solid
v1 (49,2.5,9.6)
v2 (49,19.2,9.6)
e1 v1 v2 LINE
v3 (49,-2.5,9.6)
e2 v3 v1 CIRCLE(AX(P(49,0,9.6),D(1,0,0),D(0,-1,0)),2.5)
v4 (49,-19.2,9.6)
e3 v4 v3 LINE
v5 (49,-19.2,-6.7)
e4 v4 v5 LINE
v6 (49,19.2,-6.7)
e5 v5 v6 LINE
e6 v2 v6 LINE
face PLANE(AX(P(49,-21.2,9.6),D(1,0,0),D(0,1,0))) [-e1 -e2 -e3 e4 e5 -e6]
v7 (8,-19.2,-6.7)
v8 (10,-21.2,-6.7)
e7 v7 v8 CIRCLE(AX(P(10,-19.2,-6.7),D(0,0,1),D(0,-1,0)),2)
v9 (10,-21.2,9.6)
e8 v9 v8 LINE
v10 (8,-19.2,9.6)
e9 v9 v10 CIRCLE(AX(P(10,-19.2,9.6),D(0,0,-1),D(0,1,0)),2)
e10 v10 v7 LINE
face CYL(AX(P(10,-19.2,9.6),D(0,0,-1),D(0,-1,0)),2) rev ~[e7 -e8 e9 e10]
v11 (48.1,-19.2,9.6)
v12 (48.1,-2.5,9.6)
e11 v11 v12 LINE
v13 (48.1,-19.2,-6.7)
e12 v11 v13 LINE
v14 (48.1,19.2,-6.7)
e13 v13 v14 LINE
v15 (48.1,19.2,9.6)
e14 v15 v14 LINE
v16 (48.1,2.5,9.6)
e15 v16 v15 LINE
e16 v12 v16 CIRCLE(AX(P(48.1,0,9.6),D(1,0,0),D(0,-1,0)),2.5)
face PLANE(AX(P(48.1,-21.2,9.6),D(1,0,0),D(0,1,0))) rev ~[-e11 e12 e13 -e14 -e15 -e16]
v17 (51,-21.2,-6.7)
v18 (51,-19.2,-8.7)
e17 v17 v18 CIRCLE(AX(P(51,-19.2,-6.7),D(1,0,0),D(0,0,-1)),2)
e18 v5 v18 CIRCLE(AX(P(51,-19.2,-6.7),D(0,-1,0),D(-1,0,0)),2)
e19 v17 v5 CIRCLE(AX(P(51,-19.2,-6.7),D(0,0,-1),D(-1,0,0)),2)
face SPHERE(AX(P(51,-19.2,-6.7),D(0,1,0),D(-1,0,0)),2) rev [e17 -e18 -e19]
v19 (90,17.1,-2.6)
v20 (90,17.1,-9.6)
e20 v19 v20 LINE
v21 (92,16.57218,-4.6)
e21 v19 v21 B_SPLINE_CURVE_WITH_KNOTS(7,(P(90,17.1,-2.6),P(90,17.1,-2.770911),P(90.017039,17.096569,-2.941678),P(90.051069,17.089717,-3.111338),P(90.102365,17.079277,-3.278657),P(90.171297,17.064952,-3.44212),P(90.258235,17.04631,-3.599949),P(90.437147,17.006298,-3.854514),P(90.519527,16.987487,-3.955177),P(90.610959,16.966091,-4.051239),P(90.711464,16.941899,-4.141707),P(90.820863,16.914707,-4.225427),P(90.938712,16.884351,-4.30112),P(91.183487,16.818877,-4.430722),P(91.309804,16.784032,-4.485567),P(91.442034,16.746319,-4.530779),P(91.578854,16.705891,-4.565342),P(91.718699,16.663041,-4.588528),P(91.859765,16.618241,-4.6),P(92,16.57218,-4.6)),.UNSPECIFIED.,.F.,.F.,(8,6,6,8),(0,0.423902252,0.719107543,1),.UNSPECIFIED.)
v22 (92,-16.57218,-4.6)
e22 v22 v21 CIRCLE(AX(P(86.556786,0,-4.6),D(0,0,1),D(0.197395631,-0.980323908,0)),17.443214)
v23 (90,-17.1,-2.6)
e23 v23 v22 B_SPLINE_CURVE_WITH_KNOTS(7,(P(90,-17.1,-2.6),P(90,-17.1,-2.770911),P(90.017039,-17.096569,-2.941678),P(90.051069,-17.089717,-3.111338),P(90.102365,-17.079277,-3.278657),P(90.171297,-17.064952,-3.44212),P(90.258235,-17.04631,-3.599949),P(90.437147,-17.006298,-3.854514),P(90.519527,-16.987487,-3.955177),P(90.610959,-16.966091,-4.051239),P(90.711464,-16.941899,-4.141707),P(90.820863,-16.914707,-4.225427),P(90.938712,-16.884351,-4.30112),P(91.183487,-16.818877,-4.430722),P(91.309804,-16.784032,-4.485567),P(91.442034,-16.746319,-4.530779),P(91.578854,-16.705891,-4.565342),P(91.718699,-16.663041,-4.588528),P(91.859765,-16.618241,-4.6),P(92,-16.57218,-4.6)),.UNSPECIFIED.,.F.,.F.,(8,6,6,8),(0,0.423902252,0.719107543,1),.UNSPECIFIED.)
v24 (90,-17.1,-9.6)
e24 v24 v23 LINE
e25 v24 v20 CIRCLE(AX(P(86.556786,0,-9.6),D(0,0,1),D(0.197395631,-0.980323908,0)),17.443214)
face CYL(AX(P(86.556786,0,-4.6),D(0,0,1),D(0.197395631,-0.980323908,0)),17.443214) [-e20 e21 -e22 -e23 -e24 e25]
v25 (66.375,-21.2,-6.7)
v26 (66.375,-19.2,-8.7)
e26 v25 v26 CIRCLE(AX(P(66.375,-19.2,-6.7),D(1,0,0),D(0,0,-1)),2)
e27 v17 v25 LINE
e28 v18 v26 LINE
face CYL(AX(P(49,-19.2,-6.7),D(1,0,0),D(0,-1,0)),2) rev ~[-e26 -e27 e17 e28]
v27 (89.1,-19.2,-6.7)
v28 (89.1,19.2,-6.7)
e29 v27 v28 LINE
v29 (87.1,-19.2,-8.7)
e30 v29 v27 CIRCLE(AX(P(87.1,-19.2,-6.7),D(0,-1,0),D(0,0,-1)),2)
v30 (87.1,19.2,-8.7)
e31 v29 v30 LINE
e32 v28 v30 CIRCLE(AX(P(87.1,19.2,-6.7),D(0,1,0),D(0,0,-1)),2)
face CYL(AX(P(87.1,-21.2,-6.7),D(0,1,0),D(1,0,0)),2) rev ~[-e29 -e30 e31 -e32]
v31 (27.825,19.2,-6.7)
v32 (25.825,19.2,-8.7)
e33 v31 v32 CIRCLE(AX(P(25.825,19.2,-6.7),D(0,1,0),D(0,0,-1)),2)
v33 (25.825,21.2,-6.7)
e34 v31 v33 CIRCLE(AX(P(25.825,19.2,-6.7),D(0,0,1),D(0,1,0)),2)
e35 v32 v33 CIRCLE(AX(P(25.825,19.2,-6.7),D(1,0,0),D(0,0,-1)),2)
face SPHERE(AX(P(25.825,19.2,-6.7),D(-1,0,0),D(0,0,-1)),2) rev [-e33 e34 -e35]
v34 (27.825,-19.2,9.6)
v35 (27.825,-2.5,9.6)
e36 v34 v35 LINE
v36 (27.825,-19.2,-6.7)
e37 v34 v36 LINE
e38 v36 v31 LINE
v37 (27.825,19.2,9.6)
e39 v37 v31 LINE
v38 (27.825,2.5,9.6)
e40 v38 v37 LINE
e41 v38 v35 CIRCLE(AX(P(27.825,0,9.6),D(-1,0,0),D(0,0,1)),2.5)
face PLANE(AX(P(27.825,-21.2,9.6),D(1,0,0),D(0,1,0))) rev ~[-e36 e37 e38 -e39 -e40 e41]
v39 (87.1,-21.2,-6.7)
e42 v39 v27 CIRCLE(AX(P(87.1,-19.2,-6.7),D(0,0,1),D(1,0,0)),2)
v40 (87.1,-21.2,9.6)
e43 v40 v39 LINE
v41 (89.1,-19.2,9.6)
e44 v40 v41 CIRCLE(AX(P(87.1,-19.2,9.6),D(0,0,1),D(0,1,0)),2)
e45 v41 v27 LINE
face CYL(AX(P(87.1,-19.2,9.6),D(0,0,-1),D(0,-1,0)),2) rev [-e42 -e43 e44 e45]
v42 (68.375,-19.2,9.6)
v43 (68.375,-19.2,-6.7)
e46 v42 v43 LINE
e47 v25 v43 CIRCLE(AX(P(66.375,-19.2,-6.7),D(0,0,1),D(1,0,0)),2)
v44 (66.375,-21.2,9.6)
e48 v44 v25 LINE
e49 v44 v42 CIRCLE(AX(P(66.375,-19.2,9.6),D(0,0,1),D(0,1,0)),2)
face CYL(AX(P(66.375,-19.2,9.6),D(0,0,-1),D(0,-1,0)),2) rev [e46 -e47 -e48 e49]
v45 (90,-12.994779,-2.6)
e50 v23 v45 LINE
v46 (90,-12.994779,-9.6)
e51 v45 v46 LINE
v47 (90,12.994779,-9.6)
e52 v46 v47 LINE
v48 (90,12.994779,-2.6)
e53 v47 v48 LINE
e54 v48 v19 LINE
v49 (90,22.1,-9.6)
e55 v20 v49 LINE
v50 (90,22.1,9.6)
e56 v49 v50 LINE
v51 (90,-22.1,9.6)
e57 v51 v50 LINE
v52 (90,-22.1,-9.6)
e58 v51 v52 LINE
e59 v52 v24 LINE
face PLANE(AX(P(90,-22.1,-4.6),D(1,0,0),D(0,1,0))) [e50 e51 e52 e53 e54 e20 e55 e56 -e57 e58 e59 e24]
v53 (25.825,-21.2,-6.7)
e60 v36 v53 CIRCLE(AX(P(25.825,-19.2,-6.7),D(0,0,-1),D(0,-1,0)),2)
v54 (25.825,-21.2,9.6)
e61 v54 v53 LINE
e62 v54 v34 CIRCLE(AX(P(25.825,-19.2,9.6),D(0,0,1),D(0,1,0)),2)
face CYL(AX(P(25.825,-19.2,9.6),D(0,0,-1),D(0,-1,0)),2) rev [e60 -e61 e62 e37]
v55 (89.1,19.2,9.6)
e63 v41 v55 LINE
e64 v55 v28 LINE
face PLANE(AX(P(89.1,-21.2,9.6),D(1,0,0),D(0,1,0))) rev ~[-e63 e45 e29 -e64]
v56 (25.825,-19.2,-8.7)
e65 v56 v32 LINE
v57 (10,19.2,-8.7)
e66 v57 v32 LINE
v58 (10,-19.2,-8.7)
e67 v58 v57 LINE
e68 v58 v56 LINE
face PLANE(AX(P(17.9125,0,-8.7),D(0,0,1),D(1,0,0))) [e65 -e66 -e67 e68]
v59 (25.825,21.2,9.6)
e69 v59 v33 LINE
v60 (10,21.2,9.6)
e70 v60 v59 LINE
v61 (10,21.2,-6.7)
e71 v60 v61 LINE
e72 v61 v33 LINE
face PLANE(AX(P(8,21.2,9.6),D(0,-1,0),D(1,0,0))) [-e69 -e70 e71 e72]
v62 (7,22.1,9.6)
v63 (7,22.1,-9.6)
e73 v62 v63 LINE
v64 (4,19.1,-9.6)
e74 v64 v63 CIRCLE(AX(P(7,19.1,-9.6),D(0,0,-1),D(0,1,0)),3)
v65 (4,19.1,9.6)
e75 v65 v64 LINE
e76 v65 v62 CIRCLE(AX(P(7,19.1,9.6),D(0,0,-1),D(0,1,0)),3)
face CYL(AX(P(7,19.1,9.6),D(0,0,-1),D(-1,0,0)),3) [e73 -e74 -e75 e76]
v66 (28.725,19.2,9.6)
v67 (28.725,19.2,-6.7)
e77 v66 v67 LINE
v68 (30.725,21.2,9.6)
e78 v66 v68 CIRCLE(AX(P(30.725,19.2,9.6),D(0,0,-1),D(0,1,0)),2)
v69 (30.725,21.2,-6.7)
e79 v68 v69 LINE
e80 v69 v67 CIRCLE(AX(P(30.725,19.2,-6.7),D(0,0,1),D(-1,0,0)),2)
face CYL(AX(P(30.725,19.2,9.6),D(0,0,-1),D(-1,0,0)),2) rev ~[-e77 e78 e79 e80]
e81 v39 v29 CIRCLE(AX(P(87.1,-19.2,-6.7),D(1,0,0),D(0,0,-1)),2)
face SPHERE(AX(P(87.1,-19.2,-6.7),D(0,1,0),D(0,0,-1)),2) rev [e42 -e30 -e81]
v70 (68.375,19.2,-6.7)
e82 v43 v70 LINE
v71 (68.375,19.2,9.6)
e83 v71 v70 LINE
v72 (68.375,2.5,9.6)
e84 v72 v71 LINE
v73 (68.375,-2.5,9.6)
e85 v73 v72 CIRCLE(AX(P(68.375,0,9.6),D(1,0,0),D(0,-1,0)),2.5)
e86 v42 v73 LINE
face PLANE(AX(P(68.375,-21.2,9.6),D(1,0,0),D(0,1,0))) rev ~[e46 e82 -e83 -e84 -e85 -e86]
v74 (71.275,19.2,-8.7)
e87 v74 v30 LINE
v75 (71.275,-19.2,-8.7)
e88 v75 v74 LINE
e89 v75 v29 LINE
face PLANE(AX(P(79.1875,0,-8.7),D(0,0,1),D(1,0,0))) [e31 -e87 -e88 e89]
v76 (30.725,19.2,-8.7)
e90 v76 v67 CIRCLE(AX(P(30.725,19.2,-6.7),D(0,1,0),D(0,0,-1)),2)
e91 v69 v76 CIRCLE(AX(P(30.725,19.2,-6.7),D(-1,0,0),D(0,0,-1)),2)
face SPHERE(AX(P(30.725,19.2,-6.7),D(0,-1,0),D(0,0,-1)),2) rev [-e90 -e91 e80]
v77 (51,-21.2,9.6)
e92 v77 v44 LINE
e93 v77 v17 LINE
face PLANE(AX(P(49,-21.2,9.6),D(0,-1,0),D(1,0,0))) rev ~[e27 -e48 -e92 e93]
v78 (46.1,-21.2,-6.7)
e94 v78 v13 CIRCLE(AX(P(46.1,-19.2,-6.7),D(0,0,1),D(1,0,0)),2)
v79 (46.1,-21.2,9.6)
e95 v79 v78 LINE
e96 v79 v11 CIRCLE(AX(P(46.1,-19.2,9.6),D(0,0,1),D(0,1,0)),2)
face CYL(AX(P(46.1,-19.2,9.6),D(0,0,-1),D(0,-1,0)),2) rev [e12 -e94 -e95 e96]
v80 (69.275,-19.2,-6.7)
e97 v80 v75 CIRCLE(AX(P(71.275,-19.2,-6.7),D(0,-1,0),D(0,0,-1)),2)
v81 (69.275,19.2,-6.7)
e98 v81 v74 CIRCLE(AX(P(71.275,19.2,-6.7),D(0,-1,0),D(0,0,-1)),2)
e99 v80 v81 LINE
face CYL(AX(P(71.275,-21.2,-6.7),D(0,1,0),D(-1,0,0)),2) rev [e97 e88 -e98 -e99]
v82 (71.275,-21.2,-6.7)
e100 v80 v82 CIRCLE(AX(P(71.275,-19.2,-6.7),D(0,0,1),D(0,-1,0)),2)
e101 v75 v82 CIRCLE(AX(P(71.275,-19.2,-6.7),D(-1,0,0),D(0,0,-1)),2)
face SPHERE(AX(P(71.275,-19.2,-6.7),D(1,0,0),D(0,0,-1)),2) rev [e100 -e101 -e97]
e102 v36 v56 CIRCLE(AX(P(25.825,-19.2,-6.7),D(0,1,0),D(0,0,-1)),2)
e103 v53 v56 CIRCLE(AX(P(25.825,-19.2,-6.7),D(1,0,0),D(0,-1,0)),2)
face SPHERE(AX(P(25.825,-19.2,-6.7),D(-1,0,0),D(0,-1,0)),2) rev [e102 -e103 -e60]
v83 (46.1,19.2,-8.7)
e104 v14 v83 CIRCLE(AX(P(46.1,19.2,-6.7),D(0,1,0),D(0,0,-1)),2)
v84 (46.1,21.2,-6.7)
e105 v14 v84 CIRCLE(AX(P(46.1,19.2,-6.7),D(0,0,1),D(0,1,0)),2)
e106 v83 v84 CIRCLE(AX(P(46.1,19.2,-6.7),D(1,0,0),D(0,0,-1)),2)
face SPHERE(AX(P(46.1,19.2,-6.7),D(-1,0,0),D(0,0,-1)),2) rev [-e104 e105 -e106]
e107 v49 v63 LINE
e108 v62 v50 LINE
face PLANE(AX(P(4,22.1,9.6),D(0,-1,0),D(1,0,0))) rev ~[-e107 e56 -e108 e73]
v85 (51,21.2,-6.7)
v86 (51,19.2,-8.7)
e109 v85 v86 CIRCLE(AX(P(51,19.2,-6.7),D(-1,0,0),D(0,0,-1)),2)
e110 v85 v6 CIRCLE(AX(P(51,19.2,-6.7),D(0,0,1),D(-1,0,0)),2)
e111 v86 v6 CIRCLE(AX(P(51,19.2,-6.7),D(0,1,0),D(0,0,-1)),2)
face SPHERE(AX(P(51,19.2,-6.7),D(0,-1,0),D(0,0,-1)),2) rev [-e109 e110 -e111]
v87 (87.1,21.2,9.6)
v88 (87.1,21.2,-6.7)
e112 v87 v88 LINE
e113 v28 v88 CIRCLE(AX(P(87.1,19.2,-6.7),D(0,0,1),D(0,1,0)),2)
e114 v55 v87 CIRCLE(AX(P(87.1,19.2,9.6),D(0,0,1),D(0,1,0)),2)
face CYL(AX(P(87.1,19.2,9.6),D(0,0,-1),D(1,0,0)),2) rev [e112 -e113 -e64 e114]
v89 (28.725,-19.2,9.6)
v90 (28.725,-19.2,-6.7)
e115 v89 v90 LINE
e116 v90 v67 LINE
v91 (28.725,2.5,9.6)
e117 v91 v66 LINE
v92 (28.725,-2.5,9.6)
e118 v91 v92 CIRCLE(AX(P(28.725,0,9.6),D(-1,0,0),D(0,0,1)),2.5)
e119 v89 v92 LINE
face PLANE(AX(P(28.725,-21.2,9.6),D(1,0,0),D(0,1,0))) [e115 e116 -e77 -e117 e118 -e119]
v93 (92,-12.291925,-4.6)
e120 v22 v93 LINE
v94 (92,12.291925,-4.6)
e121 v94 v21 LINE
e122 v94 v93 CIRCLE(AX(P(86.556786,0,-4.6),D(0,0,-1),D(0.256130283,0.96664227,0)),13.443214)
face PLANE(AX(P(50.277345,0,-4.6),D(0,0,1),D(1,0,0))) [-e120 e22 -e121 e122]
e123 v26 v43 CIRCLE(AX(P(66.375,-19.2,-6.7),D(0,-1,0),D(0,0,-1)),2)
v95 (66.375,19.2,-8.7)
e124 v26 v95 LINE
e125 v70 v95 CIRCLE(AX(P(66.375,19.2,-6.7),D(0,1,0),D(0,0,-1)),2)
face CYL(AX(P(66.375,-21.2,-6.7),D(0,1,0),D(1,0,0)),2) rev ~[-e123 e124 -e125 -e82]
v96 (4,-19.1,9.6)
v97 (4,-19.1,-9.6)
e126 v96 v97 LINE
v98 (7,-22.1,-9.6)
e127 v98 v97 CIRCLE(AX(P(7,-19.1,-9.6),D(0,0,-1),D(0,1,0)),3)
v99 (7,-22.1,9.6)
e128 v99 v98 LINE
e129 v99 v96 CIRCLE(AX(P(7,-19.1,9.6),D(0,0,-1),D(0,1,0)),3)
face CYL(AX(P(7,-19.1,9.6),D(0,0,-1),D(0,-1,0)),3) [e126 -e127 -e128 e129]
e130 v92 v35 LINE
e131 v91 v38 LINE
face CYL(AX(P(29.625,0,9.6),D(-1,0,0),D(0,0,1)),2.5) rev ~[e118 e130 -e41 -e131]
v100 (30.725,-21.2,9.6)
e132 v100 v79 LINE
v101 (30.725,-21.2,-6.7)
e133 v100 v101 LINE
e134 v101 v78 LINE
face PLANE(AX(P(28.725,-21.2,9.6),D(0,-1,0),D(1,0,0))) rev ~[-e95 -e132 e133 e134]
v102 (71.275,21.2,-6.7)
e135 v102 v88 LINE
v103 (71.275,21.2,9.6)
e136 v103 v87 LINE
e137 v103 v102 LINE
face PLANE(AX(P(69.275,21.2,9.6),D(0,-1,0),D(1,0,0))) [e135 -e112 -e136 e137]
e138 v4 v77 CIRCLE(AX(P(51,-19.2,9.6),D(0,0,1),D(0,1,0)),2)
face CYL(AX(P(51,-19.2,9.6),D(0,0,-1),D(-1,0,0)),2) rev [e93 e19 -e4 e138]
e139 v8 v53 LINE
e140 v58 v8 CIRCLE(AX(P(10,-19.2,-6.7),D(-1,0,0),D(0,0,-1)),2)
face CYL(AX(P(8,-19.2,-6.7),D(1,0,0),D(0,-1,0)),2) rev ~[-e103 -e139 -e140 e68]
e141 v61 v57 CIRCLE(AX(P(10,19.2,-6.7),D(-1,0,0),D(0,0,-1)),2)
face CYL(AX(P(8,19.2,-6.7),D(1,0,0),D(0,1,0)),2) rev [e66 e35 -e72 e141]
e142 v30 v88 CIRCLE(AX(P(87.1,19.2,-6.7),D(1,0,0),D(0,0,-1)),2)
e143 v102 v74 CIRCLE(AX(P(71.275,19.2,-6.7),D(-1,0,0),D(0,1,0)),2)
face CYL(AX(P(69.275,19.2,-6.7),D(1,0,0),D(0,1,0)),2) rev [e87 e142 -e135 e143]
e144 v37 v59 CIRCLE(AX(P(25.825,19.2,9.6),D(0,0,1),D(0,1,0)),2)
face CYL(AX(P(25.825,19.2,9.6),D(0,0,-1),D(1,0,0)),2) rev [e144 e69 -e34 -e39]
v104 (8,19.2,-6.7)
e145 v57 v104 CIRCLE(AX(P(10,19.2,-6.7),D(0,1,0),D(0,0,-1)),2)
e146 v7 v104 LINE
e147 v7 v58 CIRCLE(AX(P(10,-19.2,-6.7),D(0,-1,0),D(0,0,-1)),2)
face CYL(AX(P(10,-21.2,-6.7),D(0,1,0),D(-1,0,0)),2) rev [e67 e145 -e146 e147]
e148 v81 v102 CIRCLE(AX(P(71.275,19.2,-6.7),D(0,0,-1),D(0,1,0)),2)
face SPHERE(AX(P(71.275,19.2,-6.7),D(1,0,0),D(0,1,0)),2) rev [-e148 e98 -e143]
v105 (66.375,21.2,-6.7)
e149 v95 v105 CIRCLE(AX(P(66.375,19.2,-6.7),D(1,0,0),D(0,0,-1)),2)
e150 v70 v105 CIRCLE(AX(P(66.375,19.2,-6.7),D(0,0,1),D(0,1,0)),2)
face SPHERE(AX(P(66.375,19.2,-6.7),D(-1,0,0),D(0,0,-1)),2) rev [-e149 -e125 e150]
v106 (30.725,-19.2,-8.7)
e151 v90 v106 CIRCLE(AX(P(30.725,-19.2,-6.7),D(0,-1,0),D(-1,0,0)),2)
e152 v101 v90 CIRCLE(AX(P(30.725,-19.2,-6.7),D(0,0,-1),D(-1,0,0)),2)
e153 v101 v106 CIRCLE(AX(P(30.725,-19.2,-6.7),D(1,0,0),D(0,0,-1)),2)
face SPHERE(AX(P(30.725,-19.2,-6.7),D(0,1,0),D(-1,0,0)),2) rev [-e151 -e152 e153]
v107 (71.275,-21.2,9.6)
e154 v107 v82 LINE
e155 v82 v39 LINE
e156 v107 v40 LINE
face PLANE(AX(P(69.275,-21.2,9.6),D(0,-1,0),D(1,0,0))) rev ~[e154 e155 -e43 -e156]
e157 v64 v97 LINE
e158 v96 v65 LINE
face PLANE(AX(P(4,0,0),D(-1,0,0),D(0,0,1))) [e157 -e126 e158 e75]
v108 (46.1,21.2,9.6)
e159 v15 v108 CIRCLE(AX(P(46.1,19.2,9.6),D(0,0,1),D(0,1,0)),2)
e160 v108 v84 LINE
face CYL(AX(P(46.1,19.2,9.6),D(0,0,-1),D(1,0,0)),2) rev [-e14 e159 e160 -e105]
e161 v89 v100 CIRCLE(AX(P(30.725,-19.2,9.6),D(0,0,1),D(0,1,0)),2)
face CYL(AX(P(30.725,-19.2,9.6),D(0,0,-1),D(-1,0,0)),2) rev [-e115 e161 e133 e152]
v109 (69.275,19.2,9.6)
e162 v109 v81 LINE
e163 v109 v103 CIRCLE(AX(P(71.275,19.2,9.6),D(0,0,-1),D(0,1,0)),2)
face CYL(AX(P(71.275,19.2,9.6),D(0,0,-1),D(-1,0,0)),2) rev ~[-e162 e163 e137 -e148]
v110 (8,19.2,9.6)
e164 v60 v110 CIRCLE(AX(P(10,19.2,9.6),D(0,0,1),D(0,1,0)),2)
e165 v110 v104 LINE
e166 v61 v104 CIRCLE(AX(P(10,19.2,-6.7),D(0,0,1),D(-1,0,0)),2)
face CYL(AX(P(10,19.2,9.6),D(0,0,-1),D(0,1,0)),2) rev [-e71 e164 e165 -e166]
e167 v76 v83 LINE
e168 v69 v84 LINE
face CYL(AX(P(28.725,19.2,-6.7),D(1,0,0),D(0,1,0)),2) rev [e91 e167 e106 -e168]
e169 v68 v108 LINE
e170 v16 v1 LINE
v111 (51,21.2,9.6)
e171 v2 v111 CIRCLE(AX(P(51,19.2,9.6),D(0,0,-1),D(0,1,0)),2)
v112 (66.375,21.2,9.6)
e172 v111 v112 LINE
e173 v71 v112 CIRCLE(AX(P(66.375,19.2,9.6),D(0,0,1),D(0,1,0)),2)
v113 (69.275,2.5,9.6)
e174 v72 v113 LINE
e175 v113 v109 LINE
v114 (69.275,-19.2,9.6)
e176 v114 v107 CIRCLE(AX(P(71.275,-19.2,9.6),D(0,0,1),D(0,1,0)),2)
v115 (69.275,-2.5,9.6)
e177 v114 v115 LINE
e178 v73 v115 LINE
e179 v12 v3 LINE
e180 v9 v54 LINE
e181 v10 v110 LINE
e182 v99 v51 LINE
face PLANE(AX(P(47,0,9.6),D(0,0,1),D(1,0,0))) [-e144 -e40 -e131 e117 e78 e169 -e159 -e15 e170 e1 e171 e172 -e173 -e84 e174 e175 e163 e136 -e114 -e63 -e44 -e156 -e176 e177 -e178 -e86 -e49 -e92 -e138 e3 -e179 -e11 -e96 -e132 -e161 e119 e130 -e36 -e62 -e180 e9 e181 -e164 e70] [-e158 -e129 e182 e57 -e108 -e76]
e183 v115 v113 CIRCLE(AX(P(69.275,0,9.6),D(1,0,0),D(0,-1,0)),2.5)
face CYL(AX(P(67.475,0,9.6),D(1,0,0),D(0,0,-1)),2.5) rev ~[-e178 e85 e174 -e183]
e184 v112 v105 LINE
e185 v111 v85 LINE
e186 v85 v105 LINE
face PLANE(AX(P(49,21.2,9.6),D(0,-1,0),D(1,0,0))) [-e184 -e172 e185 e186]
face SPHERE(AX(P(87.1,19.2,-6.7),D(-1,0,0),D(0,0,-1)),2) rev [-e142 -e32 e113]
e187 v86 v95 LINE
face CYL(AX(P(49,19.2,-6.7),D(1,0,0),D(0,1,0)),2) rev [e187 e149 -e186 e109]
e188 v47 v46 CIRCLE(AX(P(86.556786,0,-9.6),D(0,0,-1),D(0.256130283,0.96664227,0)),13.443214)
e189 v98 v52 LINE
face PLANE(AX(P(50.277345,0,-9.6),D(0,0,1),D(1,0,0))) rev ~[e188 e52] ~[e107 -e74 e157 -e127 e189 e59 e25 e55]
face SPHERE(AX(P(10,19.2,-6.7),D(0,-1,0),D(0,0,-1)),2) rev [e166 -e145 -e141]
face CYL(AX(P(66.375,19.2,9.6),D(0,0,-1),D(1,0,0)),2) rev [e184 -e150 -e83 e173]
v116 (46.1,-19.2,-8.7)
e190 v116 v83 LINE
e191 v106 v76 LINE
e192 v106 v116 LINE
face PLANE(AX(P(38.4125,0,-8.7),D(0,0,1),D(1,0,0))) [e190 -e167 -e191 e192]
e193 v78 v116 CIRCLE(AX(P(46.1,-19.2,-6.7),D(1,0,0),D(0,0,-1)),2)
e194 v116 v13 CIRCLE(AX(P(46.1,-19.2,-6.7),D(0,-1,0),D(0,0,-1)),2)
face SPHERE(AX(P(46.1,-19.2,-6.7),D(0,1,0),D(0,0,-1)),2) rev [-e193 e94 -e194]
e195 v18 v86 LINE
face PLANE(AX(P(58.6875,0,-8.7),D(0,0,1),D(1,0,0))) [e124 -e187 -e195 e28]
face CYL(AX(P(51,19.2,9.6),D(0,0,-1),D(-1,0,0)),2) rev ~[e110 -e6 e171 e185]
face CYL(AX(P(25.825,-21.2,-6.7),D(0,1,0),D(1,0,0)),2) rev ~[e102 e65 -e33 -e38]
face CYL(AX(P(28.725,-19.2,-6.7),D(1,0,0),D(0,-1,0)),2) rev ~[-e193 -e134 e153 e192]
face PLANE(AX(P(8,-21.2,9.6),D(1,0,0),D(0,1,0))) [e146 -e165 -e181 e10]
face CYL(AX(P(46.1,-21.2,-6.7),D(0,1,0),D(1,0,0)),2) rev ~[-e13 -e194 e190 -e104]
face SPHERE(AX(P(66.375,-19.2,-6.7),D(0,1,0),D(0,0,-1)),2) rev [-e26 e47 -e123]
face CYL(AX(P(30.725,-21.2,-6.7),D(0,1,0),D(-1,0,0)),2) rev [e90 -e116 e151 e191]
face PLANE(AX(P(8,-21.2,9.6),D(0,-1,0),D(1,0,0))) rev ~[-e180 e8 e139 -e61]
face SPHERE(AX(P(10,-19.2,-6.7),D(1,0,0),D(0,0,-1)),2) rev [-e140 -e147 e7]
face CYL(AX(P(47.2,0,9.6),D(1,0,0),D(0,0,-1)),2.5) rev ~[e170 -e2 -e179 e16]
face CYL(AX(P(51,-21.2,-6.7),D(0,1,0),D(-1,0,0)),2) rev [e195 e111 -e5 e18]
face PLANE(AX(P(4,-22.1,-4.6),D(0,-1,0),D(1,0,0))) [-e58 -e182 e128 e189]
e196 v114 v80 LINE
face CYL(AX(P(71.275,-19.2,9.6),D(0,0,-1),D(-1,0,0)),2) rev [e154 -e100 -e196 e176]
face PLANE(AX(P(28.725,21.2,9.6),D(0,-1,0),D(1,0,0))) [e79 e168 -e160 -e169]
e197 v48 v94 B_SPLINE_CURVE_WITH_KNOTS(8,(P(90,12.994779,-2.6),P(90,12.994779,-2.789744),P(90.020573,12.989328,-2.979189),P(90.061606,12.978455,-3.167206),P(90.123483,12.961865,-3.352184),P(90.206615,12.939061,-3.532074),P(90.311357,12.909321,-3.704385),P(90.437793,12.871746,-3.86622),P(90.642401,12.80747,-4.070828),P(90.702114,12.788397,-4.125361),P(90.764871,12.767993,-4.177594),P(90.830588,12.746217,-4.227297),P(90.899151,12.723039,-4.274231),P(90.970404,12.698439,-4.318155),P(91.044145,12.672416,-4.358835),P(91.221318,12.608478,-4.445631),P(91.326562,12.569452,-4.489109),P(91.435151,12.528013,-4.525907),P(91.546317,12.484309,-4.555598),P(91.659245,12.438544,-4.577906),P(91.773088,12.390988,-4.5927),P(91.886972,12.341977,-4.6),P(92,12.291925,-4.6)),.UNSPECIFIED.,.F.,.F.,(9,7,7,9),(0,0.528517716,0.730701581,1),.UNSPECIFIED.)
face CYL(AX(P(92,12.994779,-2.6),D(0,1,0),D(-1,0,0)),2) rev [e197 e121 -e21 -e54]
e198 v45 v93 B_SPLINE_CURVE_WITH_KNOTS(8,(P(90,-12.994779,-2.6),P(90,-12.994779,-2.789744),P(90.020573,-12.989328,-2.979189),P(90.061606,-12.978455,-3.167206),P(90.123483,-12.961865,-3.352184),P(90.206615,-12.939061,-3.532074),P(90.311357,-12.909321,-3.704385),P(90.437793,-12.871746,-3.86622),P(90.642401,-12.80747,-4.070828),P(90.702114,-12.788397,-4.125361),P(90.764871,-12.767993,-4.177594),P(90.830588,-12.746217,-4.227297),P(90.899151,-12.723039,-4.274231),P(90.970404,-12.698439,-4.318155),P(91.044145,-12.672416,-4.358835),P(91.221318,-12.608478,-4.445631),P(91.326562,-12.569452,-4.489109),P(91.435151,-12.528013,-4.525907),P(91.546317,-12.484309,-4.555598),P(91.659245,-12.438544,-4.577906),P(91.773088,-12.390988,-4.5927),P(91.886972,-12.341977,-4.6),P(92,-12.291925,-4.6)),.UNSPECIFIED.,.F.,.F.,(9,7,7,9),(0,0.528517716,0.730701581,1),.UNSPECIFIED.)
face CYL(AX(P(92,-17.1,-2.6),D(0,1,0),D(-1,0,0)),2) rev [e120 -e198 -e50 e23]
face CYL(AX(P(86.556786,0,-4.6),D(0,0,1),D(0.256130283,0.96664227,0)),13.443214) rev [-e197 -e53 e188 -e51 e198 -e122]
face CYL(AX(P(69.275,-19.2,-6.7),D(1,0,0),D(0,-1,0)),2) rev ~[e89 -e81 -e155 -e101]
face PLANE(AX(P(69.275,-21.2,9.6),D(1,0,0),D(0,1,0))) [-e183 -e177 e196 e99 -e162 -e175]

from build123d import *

# Parameters (mm, degrees)
SKETCH_1_W                  = 86
SKETCH_1_H                  = 44.2
EXTRUDE_1_DEPTH             = 14.2
EXTRUDE_2_DEPTH             = 5
SKETCH_3_W                  = 19.825
SKETCH_3_H                  = 42.4
CUT_EXTRUDE_1_DEPTH         = 18.3
SKETCH_4_W                  = 19.375
SKETCH_4_H                  = 42.4
CUT_EXTRUDE_2_DEPTH         = 18.3
SKETCH_5_W                  = 19.375
SKETCH_5_H                  = 42.4
CUT_EXTRUDE_3_DEPTH         = 18.3
SKETCH_6_W                  = 19.825
SKETCH_6_H                  = 42.4
CUT_EXTRUDE_4_DEPTH         = 18.3
HOLE_WIZARD_8_3_8_3_1_D     = 8.3
HOLE_WIZARD_8_3_8_3_1_DEPTH = 3.2
HOLE_WIZARD_5_0_5_1_D       = 5
HOLE_WIZARD_5_0_5_1_DEPTH   = 0.9
HOLE_WIZARD_5_0_5_2_D       = 5
HOLE_WIZARD_5_0_5_2_DEPTH   = 0.9
HOLE_WIZARD_5_0_5_3_D       = 5
HOLE_WIZARD_5_0_5_3_DEPTH   = 0.9
FILLET_1_R                  = 3
EXTRUDE_START               = -3.5
SKETCH_15_R                 = 4.15
EXTRUDE_3_DEPTH             = 3.5
FILLET_3_R                  = 2


with BuildPart() as part:
    # Эскиз1 → Бобышка-Вытянуть1 (new body)
    with BuildSketch(Plane.XY.offset(9.6)):
        with Locations((47, 0)):
            Rectangle(SKETCH_1_W, SKETCH_1_H)
    extrude(amount=-EXTRUDE_1_DEPTH)

    # Эскиз2 → Бобышка-Вытянуть2 (add)
    with BuildSketch(Plane(origin=(0, 0, -4.6), x_dir=(-1, 0, 0), z_dir=(0, 0, -1))):
        with BuildLine():
            Line((-90, -22.1), (-90, -17.1))
            ThreePointArc((-90, -17.1), (-104, 0), (-90, 17.1))
            Line((-90, 17.1), (-90, 22.1))
            Line((-90, 22.1), (-4, 22.1))
            Line((-4, 22.1), (-4, -22.1))
            Line((-4, -22.1), (-90, -22.1))
        make_face()
        with BuildLine():
            Line((-90, -12.994779171), (-90, 12.994779171))
            ThreePointArc((-90, 12.994779171), (-100, 0), (-90, -12.994779171))
        make_face(mode=Mode.SUBTRACT)
    extrude(amount=EXTRUDE_2_DEPTH)

    # Эскиз3 → Вырез-Вытянуть1 (cut)
    with BuildSketch(Plane.XY.offset(9.6)):
        with Locations((79.1875, 0)):
            Rectangle(SKETCH_3_W, SKETCH_3_H)
    extrude(amount=-CUT_EXTRUDE_1_DEPTH, mode=Mode.SUBTRACT)

    # Эскиз4 → Вырез-Вытянуть2 (cut)
    with BuildSketch(Plane.XY.offset(9.6)):
        with Locations((58.6875, 0)):
            Rectangle(SKETCH_4_W, SKETCH_4_H)
    extrude(amount=-CUT_EXTRUDE_2_DEPTH, mode=Mode.SUBTRACT)

    # Эскиз5 → Вырез-Вытянуть3 (cut)
    with BuildSketch(Plane.XY.offset(9.6)):
        with Locations((38.4125, 0)):
            Rectangle(SKETCH_5_W, SKETCH_5_H)
    extrude(amount=-CUT_EXTRUDE_3_DEPTH, mode=Mode.SUBTRACT)

    # Эскиз6 → Вырез-Вытянуть4 (cut)
    with BuildSketch(Plane.XY.offset(9.6)):
        with Locations((17.9125, 0)):
            Rectangle(SKETCH_6_W, SKETCH_6_H)
    extrude(amount=-CUT_EXTRUDE_4_DEPTH, mode=Mode.SUBTRACT)

    # Диаметр отверстия Ø8.3 (8.3)1
    with Locations(Plane.ZY.offset(-4)):
        with Locations((0, 0)):
            Hole(HOLE_WIZARD_8_3_8_3_1_D / 2, depth=HOLE_WIZARD_8_3_8_3_1_DEPTH)

    # Диаметр отверстия Ø5.0 (5)1
    with Locations(Plane(origin=(28.725, 0, 0), x_dir=(0, 0, -1), z_dir=(1, 0, 0))):
        with Locations((-9.6, 0)):
            Hole(HOLE_WIZARD_5_0_5_1_D / 2, depth=HOLE_WIZARD_5_0_5_1_DEPTH)

    # Диаметр отверстия Ø5.0 (5)2
    with Locations(Plane.ZY.offset(-48.1)):
        with Locations((9.6, 0)):
            Hole(HOLE_WIZARD_5_0_5_2_D / 2, depth=HOLE_WIZARD_5_0_5_2_DEPTH)

    # Диаметр отверстия Ø5.0 (5)3
    with Locations(Plane.ZY.offset(-68.375)):
        with Locations((9.6, 0)):
            Hole(HOLE_WIZARD_5_0_5_3_D / 2, depth=HOLE_WIZARD_5_0_5_3_DEPTH)

    # Скругление1
    fillet_1_edges = [part.edges().sort_by_distance(p)[0] for p in [
        (4, -22.1, 0),
        (4, 22.1, 0),
    ]]
    fillet(fillet_1_edges, radius=FILLET_1_R)

    # Эскиз15 → Бобышка-Вытянуть3 (add)
    with BuildSketch(Plane.ZY.offset(-4).offset(EXTRUDE_START)):
        Circle(SKETCH_15_R)
    extrude(amount=EXTRUDE_3_DEPTH)

    # Скругление3
    fillet_3_edges = [part.edges().sort_by_distance(p)[0] for p in [
        (90, -15.047389586, -4.6),
        (90, 15.047389586, -4.6),
        (79.1875, 21.2, -8.7),
        (69.275, 21.2, 0.45),
        (89.1, 0, -8.7),
        (89.1, 21.2, 0.45),
        (79.1875, -21.2, -8.7),
        (89.1, -21.2, 0.45),
        (69.275, 0, -8.7),
        (69.275, -21.2, 0.45),
        (49, 0, -8.7),
        (49, -21.2, 0.45),
        (58.6875, 21.2, -8.7),
        (49, 21.2, 0.45),
        (68.375, 0, -8.7),
        (68.375, 21.2, 0.45),
        (58.6875, -21.2, -8.7),
        (68.375, -21.2, 0.45),
        (28.725, 0, -8.7),
        (28.725, -21.2, 0.45),
        (38.4125, 21.2, -8.7),
        (28.725, 21.2, 0.45),
        (48.1, 0, -8.7),
        (48.1, 21.2, 0.45),
        (38.4125, -21.2, -8.7),
        (48.1, -21.2, 0.45),
        (17.9125, -21.2, -8.7),
        (27.825, -21.2, 0.45),
        (8, 0, -8.7),
        (8, -21.2, 0.45),
        (17.9125, 21.2, -8.7),
        (8, 21.2, 0.45),
        (27.825, 0, -8.7),
        (27.825, 21.2, 0.45),
    ]]
    fillet(fillet_3_edges, radius=FILLET_3_R)


solid = part.part
